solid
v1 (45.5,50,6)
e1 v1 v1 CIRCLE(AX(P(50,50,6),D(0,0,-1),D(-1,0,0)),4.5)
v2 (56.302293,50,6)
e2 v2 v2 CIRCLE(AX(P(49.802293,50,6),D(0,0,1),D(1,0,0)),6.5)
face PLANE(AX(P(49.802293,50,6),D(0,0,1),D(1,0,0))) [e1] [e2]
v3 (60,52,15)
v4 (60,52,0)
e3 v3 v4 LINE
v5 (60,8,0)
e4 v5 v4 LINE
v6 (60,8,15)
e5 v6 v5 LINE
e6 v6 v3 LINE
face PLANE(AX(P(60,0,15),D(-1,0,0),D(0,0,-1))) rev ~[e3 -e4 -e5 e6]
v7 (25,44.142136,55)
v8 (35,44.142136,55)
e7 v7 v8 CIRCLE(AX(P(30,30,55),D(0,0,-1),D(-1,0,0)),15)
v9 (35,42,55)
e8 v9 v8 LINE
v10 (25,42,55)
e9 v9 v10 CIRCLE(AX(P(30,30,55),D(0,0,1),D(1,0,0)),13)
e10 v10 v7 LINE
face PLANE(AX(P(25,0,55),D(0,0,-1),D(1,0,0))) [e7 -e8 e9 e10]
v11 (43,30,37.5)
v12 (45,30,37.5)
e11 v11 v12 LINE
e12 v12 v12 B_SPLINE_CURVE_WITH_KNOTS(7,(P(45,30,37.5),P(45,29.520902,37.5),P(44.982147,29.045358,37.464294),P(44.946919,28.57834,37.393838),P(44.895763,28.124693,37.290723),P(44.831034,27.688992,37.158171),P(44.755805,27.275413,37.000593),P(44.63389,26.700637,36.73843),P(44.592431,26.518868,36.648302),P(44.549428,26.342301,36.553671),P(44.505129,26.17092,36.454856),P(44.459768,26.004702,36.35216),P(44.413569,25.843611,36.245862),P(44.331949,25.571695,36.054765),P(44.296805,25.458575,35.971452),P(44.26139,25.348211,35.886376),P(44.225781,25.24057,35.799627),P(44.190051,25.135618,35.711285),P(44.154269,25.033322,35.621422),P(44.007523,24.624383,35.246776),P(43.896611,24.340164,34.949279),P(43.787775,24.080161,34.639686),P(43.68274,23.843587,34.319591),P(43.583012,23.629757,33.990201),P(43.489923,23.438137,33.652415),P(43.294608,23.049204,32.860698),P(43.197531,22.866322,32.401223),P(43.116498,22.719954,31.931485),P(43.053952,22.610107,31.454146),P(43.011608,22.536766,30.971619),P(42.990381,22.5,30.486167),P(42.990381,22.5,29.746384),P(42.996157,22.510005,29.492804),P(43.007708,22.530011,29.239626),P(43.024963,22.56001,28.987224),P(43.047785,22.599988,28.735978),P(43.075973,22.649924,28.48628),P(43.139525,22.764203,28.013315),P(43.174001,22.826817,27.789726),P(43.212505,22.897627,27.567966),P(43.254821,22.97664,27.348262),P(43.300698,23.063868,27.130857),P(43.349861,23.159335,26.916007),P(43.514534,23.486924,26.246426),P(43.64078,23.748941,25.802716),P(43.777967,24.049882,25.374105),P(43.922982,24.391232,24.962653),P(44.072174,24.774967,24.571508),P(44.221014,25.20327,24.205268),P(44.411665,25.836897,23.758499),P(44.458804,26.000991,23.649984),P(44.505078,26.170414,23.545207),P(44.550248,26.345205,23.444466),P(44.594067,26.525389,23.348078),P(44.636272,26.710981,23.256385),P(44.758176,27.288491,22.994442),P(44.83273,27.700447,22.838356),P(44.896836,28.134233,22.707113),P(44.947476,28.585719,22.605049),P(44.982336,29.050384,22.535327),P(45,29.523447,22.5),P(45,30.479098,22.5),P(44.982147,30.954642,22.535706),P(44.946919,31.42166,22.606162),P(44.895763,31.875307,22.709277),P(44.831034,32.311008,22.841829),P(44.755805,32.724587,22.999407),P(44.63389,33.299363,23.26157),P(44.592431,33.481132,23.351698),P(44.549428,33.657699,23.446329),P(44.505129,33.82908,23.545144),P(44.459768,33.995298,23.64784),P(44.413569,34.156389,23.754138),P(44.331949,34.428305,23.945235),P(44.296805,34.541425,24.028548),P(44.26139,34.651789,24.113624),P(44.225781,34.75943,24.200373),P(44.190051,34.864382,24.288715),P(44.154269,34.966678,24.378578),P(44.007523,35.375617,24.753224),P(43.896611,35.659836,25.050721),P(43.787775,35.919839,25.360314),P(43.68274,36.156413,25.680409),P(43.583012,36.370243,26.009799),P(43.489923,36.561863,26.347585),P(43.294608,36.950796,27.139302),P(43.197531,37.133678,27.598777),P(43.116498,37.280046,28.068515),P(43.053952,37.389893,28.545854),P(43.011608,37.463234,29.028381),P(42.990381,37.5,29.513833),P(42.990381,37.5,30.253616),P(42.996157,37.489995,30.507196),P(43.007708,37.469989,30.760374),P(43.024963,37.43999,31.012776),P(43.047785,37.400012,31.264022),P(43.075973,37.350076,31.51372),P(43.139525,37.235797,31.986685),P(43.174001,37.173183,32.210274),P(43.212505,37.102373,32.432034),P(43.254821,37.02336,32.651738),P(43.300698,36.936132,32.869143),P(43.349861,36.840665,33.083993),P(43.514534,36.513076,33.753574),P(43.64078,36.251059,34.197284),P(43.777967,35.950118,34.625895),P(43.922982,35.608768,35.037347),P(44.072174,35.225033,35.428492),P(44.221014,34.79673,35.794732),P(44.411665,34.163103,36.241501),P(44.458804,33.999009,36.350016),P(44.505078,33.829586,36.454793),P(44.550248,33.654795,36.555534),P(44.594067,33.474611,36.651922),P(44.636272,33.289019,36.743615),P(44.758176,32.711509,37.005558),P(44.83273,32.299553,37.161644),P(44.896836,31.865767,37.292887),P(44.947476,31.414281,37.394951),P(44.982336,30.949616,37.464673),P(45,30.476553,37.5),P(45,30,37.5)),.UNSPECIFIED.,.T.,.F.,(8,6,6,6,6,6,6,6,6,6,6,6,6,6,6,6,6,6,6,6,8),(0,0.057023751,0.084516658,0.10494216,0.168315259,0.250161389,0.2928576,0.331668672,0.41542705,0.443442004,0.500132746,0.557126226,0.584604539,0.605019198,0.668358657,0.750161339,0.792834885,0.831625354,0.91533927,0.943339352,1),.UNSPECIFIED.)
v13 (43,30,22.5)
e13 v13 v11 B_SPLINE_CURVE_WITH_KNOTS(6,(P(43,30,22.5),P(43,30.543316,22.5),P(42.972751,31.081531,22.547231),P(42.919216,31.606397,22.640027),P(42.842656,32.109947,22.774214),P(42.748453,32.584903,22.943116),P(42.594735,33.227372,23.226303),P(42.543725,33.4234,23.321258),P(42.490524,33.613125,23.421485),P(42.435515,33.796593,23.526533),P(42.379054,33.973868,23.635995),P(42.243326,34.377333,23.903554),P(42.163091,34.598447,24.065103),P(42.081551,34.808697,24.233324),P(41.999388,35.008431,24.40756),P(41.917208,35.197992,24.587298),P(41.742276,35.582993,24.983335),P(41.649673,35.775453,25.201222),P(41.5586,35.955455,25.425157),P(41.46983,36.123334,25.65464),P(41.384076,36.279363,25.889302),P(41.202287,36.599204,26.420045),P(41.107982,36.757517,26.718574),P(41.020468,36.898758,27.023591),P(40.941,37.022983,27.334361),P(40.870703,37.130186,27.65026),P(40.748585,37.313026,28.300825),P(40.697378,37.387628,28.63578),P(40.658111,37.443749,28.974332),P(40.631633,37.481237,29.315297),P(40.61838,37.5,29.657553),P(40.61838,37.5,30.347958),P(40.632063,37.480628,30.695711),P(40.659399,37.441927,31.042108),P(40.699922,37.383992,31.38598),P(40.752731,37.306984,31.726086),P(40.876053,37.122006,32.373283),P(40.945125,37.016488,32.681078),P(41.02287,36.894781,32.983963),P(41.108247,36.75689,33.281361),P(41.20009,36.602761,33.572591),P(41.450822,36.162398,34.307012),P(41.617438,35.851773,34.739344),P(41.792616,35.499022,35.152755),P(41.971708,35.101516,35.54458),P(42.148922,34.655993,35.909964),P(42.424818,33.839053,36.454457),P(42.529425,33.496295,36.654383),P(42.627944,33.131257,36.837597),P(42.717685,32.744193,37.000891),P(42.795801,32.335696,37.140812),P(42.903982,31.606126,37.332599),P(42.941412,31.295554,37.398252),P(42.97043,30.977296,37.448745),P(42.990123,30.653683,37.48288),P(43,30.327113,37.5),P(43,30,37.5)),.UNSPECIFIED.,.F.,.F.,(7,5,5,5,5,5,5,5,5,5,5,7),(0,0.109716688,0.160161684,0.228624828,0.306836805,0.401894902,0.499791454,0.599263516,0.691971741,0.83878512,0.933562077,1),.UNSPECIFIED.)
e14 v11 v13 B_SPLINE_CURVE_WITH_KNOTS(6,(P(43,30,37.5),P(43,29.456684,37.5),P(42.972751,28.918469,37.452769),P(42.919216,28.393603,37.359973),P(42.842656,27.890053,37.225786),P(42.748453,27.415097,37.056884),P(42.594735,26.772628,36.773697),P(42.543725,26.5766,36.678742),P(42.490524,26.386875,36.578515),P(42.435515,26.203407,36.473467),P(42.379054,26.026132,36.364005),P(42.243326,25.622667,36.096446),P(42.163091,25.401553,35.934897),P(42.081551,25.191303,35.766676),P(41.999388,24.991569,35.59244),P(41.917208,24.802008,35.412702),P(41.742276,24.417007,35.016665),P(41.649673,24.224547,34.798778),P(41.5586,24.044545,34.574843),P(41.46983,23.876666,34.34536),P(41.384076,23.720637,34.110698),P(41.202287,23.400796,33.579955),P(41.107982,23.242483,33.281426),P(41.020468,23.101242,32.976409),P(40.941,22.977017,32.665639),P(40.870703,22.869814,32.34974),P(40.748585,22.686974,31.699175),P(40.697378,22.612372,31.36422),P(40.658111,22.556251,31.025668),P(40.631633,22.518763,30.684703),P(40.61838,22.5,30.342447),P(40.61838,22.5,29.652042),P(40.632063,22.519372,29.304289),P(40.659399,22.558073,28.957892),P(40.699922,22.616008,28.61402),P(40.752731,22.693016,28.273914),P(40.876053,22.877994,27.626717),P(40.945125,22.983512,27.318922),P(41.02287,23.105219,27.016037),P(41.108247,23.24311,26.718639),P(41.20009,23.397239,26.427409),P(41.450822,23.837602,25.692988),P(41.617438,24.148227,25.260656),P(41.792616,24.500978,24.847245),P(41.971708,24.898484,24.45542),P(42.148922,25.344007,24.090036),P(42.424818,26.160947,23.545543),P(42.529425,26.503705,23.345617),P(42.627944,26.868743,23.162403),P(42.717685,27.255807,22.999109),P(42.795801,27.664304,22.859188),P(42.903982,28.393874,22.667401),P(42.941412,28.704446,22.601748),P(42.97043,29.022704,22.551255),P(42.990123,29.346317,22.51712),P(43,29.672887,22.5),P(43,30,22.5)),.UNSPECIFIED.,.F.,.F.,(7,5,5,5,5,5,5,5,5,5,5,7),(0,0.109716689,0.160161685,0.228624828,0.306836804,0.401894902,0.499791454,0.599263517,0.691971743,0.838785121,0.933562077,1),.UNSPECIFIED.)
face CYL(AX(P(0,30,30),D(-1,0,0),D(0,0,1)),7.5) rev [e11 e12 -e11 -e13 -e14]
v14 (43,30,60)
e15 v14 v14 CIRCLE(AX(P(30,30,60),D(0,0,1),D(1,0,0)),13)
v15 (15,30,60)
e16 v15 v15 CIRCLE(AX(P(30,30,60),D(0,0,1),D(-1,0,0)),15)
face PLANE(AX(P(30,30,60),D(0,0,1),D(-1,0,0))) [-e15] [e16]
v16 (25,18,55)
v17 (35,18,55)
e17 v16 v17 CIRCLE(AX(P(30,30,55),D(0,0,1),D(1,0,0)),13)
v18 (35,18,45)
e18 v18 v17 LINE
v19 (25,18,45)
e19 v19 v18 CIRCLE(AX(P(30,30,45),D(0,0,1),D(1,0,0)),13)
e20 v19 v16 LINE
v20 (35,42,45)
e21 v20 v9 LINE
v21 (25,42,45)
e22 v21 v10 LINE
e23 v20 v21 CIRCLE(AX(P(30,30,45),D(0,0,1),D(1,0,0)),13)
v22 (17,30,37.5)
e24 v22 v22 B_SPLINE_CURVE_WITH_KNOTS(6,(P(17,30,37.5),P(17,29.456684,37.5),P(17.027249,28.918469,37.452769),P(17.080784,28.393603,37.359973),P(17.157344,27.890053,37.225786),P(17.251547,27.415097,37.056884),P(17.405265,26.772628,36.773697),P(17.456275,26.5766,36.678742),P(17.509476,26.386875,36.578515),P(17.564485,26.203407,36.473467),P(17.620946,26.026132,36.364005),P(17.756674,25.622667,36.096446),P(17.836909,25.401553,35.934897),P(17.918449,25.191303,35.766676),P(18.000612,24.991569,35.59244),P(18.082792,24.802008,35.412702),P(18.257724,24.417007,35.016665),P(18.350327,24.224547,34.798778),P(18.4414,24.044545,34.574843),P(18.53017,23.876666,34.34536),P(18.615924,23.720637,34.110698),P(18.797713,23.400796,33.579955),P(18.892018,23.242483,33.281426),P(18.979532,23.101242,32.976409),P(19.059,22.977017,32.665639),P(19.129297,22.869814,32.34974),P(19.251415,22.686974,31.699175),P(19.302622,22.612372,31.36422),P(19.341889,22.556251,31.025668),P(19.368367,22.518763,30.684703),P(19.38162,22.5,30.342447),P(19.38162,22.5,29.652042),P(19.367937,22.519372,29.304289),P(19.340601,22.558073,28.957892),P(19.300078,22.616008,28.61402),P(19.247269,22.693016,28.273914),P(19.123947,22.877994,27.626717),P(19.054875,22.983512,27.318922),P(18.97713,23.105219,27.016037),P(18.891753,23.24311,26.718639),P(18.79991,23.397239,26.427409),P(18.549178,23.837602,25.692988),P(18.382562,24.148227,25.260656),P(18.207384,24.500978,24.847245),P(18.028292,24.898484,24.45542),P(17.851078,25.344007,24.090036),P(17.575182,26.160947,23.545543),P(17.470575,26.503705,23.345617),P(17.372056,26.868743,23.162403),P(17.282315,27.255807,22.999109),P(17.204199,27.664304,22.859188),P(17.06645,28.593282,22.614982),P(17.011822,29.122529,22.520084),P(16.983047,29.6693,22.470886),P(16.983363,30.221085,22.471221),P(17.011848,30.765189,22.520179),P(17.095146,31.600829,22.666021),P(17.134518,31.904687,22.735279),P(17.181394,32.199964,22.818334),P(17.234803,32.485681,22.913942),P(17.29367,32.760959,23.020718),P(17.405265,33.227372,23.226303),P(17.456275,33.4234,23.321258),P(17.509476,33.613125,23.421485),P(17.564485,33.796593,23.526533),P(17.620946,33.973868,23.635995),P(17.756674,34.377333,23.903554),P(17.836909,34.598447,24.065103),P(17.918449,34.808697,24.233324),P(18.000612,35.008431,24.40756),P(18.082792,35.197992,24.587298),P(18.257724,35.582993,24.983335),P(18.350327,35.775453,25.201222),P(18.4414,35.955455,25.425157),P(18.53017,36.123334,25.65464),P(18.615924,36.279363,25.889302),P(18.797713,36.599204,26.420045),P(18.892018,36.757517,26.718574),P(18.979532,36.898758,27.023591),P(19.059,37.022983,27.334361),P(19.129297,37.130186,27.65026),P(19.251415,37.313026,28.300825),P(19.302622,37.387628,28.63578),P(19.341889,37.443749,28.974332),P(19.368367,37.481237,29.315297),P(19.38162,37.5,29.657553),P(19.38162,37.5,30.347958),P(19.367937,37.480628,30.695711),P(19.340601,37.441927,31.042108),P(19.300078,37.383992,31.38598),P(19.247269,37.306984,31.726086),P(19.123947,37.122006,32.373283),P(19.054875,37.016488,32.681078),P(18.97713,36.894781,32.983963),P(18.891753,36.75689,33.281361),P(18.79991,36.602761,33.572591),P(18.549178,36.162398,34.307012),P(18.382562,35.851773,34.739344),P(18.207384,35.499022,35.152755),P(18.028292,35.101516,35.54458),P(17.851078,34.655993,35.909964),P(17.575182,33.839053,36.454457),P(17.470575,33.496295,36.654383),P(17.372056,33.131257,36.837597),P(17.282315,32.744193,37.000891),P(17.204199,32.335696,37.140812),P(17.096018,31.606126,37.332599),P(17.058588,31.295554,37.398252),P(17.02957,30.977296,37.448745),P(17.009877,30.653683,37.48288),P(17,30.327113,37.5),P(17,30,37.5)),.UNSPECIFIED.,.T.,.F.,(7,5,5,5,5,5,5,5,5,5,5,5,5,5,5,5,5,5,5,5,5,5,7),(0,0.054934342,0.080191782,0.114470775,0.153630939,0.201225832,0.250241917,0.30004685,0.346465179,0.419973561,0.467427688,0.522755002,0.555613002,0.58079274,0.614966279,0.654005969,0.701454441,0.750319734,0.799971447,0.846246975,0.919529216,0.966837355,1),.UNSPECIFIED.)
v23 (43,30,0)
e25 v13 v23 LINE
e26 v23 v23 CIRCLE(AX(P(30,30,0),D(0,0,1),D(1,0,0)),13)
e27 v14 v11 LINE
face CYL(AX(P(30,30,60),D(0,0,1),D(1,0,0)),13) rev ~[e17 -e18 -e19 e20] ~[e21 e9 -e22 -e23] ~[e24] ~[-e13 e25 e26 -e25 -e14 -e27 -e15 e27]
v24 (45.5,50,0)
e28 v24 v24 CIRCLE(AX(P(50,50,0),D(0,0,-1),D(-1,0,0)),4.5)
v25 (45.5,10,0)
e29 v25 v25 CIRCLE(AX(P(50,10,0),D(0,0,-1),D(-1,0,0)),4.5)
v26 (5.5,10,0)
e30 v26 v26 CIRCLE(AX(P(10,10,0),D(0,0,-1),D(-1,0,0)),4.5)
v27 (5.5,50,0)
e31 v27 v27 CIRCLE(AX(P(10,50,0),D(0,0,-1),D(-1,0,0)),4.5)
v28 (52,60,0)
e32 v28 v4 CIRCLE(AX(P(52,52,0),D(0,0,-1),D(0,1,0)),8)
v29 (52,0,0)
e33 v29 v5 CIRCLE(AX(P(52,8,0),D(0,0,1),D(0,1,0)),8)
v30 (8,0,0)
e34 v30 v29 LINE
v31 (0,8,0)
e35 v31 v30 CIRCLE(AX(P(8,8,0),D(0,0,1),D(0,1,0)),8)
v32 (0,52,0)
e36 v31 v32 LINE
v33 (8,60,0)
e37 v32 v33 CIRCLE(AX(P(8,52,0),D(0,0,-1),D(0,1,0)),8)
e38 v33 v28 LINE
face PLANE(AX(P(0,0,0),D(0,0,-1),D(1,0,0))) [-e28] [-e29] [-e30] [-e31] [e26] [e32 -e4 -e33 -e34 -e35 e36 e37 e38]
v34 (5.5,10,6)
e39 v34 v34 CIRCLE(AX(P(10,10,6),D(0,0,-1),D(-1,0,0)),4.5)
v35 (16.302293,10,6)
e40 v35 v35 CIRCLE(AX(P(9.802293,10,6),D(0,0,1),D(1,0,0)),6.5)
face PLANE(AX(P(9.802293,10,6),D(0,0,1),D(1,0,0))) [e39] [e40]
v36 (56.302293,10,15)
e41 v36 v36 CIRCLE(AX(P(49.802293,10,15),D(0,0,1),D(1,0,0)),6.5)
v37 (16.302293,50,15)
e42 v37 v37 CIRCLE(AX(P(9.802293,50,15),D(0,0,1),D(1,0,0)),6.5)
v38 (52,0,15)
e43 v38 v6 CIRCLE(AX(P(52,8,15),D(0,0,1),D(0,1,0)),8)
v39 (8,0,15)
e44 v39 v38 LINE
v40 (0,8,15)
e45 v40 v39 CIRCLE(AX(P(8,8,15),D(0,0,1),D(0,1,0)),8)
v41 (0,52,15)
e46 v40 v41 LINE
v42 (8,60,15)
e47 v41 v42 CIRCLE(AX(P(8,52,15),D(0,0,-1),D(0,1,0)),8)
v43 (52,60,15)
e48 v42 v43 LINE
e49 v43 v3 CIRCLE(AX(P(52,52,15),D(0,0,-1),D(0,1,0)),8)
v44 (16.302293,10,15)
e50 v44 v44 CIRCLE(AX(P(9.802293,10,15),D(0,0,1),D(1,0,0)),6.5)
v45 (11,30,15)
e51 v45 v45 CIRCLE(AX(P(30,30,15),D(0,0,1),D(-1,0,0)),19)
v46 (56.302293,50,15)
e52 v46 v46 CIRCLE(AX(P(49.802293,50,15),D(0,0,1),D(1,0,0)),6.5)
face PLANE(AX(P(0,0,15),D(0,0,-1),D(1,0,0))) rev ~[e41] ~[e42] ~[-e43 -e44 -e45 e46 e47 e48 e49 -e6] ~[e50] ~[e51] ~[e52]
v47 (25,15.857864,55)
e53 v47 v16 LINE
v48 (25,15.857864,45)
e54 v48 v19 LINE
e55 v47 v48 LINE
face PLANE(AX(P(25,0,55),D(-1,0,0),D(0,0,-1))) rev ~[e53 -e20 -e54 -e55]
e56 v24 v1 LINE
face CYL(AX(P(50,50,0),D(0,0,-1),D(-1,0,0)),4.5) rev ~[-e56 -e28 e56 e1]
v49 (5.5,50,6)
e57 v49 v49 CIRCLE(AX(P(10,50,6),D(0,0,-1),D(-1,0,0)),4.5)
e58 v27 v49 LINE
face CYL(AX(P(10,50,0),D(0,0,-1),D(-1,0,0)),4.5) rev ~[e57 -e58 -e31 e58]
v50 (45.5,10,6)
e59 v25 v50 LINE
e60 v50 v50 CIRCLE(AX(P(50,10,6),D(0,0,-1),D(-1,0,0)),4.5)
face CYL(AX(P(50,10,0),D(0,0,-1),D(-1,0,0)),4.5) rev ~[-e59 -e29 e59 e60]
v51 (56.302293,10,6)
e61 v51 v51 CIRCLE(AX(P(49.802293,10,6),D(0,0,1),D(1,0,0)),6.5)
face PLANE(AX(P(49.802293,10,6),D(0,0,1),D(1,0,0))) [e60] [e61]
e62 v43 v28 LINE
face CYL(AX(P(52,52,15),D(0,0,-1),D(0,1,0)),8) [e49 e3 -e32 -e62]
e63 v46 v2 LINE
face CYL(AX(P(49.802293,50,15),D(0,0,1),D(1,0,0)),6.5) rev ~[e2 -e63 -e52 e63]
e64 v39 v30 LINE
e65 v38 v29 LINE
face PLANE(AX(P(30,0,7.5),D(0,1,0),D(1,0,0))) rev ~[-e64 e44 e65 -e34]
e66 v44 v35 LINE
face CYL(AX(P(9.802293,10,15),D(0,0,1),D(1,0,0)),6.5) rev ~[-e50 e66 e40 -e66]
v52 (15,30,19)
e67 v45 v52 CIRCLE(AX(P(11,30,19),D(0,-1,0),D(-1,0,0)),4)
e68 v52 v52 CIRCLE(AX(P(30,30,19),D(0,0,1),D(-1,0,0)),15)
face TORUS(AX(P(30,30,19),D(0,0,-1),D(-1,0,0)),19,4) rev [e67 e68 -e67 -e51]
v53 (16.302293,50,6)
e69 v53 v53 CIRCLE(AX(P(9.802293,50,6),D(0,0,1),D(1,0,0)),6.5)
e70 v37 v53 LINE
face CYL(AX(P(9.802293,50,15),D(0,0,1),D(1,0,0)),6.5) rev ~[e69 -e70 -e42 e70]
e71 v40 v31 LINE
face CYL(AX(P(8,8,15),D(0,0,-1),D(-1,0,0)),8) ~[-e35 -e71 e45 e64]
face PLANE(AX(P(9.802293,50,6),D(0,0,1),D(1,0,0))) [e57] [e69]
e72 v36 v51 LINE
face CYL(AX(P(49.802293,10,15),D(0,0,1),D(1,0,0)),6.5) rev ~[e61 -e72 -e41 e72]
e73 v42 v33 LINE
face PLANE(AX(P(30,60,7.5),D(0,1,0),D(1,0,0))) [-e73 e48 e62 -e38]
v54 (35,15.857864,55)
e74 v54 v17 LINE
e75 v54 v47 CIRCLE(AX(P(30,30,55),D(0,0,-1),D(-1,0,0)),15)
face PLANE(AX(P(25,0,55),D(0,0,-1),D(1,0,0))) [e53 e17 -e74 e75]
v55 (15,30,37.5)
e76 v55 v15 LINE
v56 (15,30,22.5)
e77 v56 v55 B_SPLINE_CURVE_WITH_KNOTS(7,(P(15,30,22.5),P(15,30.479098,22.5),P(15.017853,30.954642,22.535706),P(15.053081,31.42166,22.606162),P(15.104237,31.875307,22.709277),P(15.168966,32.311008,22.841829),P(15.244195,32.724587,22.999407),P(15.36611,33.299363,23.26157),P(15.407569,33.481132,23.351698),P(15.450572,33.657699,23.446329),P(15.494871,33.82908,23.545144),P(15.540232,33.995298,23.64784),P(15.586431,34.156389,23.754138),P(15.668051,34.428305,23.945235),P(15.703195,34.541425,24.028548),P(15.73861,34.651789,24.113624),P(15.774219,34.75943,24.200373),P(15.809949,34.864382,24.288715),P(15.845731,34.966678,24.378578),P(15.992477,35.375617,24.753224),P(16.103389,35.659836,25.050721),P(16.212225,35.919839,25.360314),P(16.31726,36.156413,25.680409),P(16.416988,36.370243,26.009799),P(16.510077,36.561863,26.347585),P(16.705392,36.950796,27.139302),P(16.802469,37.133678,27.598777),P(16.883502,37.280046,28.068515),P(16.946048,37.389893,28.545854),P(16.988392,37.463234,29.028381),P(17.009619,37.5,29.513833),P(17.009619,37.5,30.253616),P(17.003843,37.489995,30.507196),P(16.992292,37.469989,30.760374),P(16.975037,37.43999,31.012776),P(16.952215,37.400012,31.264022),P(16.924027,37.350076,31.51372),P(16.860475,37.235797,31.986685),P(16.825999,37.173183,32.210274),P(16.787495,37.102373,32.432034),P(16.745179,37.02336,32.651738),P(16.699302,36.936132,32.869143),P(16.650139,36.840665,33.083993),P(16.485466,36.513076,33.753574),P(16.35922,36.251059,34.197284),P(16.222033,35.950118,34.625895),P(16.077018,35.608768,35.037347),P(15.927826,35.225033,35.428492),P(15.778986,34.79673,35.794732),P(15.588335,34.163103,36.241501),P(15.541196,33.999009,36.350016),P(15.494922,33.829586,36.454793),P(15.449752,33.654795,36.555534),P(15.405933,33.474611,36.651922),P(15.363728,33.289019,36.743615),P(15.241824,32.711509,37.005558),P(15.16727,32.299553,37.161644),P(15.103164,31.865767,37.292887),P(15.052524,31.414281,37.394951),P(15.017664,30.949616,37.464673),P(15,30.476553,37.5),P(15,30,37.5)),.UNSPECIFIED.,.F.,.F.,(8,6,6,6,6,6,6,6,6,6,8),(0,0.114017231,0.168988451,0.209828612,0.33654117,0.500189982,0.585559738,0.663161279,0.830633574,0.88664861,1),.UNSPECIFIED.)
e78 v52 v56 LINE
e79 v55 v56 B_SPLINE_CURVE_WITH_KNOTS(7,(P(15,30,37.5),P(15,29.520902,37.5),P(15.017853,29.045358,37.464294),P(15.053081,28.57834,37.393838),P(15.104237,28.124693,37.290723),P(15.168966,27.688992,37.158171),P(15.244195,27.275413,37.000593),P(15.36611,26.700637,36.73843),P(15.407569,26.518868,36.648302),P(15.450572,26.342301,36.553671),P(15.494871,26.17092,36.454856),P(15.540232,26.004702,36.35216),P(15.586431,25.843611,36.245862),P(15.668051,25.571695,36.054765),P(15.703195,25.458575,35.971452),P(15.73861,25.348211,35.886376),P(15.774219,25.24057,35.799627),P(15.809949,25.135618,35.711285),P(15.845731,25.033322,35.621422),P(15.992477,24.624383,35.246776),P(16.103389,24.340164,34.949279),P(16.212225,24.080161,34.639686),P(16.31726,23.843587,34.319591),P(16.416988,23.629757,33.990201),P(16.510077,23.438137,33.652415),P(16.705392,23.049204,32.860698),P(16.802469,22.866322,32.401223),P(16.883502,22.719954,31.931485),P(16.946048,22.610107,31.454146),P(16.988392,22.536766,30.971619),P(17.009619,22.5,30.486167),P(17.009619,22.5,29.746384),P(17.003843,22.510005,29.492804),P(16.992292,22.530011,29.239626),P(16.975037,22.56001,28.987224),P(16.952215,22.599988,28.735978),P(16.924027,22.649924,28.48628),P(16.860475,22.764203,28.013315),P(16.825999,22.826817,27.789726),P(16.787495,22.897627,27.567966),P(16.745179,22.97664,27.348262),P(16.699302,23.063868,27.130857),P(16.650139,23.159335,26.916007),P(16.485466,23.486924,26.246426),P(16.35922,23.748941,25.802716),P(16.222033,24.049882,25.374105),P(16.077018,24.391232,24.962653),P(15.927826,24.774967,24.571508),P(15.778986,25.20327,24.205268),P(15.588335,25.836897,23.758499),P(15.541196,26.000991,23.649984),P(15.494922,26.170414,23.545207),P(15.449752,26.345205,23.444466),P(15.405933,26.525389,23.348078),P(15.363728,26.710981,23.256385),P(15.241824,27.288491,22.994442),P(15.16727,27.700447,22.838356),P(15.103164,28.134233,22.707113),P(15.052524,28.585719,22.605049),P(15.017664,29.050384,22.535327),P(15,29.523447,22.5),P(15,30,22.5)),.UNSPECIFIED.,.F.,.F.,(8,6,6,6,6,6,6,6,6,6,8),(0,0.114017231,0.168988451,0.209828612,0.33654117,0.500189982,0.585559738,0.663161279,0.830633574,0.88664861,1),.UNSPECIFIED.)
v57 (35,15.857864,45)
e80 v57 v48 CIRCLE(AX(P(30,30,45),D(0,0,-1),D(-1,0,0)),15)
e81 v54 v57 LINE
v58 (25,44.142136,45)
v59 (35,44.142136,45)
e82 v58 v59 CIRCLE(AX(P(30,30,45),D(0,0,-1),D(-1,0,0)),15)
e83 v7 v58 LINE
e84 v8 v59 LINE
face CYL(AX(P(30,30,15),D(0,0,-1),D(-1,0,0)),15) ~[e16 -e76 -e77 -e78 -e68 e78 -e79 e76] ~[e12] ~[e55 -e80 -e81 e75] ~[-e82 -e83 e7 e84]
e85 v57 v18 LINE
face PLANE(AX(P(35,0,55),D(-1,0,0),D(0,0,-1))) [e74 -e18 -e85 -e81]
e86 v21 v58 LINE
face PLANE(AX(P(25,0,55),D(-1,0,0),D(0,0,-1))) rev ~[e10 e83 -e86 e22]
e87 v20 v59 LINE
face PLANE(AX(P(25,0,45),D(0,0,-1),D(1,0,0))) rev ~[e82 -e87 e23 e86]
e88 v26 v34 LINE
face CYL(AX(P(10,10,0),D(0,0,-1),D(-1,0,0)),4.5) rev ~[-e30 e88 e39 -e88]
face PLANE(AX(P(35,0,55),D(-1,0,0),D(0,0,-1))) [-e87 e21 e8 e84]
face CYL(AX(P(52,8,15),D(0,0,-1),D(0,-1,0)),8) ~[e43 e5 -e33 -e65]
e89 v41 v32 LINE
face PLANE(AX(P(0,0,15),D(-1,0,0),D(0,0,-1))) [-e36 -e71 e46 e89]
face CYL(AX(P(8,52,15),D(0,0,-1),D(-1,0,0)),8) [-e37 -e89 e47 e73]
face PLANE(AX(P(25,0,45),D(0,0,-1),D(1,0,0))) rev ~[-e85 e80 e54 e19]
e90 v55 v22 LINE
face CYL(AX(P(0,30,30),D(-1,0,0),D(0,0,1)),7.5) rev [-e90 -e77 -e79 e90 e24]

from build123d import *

# Parameters (mm, degrees)
ESBO_O1_W                = 60
ESBO_O1_H                = 15
RESSALTO_EXTRUS_O1_DEPTH = 60
ESBO_O4_R                = 6.5
CORTE_EXTRUS_O1_DEPTH    = 9
ESBO_O5_R                = 4.5
CORTE_EXTRUS_O2_DEPTH    = 6
ESBO_O6_R                = 15
RESSALTO_EXTRUS_O3_DEPTH = 45
ESBO_O7_R                = 13
CORTE_EXTRUS_O3_DEPTH    = 104.923048454
FILETE2_R                = 4
ESBO_O8_R                = 7.5
CORTE_EXTRUS_O10_DEPTH   = 104.923048454
ESBO_O9_W                = 10
ESBO_O9_H                = 10
CORTE_EXTRUS_O11_DEPTH   = 104.923048512
FILETE3_R                = 8


with BuildPart() as part:
    # Esboço1 → Ressalto-extrusão1 (new body)
    with BuildSketch(Plane(origin=(0, 0, 0), x_dir=(1, 0, 0), z_dir=(0, 1, 0))):
        with Locations((30, -7.5)):
            Rectangle(ESBO_O1_W, ESBO_O1_H)
    extrude(amount=RESSALTO_EXTRUS_O1_DEPTH)

    # Esboço4 → Corte-extrusão1 (cut)
    with BuildSketch(Plane.XY.offset(15)):
        with Locations((9.802292797, 50)):
            Circle(ESBO_O4_R)
        with Locations((49.802292797, 50)):
            Circle(ESBO_O4_R)
        with Locations((9.802292797, 10)):
            Circle(ESBO_O4_R)
        with Locations((49.802292797, 10)):
            Circle(ESBO_O4_R)
    extrude(amount=-CORTE_EXTRUS_O1_DEPTH, mode=Mode.SUBTRACT)

    # Esboço5 → Corte-extrusão2 (cut)
    with BuildSketch(Plane(origin=(0, 0, 0), x_dir=(-1, 0, 0), z_dir=(0, 0, -1))):
        with Locations((-50, 50)):
            Circle(ESBO_O5_R)
        with Locations((-10, 50)):
            Circle(ESBO_O5_R)
        with Locations((-50, 10)):
            Circle(ESBO_O5_R)
        with Locations((-10, 10)):
            Circle(ESBO_O5_R)
    extrude(amount=-CORTE_EXTRUS_O2_DEPTH, mode=Mode.SUBTRACT)

    # Esboço6 → Ressalto-extrusão3 (add)
    with BuildSketch(Plane.XY.offset(15)):
        with Locations(Location((30, 30, 0), (0, 0, 180))):
            Circle(ESBO_O6_R)
    extrude(amount=RESSALTO_EXTRUS_O3_DEPTH)

    # Esboço7 → Corte-extrusão3 (cut, through all)
    with BuildSketch(Plane.XY.offset(60)):
        with Locations((30, 30)):
            Circle(ESBO_O7_R)
    extrude(amount=-CORTE_EXTRUS_O3_DEPTH, mode=Mode.SUBTRACT)

    # Filete2
    filete2_edges = [part.edges().sort_by_distance(p)[0] for p in [
        (45, 30, 15),
    ]]
    fillet(filete2_edges, radius=FILETE2_R)

    # Esboço8 → Corte-extrusão10 (cut, through all)
    with BuildSketch(Plane(origin=(0, 0, 0), x_dir=(0, 0, -1), z_dir=(1, 0, 0))):
        with Locations(Location((-30, 30, 0), (0, 0, 180))):
            Circle(ESBO_O8_R)
    extrude(amount=CORTE_EXTRUS_O10_DEPTH, mode=Mode.SUBTRACT)

    # Esboço9 → Corte-extrusão11 (cut, through all)
    with BuildSketch(Plane(origin=(0, 0, 0), x_dir=(1, 0, 0), z_dir=(0, 1, 0))):
        with Locations((30, -50)):
            Rectangle(ESBO_O9_W, ESBO_O9_H)
    extrude(amount=CORTE_EXTRUS_O11_DEPTH, mode=Mode.SUBTRACT)

    # Filete3
    filete3_edges = [part.edges().sort_by_distance(p)[0] for p in [
        (60, 60, 7.5),
        (60, 0, 7.5),
        (0, 0, 7.5),
        (0, 60, 7.5),
    ]]
    fillet(filete3_edges, radius=FILETE3_R)


solid = part.part
